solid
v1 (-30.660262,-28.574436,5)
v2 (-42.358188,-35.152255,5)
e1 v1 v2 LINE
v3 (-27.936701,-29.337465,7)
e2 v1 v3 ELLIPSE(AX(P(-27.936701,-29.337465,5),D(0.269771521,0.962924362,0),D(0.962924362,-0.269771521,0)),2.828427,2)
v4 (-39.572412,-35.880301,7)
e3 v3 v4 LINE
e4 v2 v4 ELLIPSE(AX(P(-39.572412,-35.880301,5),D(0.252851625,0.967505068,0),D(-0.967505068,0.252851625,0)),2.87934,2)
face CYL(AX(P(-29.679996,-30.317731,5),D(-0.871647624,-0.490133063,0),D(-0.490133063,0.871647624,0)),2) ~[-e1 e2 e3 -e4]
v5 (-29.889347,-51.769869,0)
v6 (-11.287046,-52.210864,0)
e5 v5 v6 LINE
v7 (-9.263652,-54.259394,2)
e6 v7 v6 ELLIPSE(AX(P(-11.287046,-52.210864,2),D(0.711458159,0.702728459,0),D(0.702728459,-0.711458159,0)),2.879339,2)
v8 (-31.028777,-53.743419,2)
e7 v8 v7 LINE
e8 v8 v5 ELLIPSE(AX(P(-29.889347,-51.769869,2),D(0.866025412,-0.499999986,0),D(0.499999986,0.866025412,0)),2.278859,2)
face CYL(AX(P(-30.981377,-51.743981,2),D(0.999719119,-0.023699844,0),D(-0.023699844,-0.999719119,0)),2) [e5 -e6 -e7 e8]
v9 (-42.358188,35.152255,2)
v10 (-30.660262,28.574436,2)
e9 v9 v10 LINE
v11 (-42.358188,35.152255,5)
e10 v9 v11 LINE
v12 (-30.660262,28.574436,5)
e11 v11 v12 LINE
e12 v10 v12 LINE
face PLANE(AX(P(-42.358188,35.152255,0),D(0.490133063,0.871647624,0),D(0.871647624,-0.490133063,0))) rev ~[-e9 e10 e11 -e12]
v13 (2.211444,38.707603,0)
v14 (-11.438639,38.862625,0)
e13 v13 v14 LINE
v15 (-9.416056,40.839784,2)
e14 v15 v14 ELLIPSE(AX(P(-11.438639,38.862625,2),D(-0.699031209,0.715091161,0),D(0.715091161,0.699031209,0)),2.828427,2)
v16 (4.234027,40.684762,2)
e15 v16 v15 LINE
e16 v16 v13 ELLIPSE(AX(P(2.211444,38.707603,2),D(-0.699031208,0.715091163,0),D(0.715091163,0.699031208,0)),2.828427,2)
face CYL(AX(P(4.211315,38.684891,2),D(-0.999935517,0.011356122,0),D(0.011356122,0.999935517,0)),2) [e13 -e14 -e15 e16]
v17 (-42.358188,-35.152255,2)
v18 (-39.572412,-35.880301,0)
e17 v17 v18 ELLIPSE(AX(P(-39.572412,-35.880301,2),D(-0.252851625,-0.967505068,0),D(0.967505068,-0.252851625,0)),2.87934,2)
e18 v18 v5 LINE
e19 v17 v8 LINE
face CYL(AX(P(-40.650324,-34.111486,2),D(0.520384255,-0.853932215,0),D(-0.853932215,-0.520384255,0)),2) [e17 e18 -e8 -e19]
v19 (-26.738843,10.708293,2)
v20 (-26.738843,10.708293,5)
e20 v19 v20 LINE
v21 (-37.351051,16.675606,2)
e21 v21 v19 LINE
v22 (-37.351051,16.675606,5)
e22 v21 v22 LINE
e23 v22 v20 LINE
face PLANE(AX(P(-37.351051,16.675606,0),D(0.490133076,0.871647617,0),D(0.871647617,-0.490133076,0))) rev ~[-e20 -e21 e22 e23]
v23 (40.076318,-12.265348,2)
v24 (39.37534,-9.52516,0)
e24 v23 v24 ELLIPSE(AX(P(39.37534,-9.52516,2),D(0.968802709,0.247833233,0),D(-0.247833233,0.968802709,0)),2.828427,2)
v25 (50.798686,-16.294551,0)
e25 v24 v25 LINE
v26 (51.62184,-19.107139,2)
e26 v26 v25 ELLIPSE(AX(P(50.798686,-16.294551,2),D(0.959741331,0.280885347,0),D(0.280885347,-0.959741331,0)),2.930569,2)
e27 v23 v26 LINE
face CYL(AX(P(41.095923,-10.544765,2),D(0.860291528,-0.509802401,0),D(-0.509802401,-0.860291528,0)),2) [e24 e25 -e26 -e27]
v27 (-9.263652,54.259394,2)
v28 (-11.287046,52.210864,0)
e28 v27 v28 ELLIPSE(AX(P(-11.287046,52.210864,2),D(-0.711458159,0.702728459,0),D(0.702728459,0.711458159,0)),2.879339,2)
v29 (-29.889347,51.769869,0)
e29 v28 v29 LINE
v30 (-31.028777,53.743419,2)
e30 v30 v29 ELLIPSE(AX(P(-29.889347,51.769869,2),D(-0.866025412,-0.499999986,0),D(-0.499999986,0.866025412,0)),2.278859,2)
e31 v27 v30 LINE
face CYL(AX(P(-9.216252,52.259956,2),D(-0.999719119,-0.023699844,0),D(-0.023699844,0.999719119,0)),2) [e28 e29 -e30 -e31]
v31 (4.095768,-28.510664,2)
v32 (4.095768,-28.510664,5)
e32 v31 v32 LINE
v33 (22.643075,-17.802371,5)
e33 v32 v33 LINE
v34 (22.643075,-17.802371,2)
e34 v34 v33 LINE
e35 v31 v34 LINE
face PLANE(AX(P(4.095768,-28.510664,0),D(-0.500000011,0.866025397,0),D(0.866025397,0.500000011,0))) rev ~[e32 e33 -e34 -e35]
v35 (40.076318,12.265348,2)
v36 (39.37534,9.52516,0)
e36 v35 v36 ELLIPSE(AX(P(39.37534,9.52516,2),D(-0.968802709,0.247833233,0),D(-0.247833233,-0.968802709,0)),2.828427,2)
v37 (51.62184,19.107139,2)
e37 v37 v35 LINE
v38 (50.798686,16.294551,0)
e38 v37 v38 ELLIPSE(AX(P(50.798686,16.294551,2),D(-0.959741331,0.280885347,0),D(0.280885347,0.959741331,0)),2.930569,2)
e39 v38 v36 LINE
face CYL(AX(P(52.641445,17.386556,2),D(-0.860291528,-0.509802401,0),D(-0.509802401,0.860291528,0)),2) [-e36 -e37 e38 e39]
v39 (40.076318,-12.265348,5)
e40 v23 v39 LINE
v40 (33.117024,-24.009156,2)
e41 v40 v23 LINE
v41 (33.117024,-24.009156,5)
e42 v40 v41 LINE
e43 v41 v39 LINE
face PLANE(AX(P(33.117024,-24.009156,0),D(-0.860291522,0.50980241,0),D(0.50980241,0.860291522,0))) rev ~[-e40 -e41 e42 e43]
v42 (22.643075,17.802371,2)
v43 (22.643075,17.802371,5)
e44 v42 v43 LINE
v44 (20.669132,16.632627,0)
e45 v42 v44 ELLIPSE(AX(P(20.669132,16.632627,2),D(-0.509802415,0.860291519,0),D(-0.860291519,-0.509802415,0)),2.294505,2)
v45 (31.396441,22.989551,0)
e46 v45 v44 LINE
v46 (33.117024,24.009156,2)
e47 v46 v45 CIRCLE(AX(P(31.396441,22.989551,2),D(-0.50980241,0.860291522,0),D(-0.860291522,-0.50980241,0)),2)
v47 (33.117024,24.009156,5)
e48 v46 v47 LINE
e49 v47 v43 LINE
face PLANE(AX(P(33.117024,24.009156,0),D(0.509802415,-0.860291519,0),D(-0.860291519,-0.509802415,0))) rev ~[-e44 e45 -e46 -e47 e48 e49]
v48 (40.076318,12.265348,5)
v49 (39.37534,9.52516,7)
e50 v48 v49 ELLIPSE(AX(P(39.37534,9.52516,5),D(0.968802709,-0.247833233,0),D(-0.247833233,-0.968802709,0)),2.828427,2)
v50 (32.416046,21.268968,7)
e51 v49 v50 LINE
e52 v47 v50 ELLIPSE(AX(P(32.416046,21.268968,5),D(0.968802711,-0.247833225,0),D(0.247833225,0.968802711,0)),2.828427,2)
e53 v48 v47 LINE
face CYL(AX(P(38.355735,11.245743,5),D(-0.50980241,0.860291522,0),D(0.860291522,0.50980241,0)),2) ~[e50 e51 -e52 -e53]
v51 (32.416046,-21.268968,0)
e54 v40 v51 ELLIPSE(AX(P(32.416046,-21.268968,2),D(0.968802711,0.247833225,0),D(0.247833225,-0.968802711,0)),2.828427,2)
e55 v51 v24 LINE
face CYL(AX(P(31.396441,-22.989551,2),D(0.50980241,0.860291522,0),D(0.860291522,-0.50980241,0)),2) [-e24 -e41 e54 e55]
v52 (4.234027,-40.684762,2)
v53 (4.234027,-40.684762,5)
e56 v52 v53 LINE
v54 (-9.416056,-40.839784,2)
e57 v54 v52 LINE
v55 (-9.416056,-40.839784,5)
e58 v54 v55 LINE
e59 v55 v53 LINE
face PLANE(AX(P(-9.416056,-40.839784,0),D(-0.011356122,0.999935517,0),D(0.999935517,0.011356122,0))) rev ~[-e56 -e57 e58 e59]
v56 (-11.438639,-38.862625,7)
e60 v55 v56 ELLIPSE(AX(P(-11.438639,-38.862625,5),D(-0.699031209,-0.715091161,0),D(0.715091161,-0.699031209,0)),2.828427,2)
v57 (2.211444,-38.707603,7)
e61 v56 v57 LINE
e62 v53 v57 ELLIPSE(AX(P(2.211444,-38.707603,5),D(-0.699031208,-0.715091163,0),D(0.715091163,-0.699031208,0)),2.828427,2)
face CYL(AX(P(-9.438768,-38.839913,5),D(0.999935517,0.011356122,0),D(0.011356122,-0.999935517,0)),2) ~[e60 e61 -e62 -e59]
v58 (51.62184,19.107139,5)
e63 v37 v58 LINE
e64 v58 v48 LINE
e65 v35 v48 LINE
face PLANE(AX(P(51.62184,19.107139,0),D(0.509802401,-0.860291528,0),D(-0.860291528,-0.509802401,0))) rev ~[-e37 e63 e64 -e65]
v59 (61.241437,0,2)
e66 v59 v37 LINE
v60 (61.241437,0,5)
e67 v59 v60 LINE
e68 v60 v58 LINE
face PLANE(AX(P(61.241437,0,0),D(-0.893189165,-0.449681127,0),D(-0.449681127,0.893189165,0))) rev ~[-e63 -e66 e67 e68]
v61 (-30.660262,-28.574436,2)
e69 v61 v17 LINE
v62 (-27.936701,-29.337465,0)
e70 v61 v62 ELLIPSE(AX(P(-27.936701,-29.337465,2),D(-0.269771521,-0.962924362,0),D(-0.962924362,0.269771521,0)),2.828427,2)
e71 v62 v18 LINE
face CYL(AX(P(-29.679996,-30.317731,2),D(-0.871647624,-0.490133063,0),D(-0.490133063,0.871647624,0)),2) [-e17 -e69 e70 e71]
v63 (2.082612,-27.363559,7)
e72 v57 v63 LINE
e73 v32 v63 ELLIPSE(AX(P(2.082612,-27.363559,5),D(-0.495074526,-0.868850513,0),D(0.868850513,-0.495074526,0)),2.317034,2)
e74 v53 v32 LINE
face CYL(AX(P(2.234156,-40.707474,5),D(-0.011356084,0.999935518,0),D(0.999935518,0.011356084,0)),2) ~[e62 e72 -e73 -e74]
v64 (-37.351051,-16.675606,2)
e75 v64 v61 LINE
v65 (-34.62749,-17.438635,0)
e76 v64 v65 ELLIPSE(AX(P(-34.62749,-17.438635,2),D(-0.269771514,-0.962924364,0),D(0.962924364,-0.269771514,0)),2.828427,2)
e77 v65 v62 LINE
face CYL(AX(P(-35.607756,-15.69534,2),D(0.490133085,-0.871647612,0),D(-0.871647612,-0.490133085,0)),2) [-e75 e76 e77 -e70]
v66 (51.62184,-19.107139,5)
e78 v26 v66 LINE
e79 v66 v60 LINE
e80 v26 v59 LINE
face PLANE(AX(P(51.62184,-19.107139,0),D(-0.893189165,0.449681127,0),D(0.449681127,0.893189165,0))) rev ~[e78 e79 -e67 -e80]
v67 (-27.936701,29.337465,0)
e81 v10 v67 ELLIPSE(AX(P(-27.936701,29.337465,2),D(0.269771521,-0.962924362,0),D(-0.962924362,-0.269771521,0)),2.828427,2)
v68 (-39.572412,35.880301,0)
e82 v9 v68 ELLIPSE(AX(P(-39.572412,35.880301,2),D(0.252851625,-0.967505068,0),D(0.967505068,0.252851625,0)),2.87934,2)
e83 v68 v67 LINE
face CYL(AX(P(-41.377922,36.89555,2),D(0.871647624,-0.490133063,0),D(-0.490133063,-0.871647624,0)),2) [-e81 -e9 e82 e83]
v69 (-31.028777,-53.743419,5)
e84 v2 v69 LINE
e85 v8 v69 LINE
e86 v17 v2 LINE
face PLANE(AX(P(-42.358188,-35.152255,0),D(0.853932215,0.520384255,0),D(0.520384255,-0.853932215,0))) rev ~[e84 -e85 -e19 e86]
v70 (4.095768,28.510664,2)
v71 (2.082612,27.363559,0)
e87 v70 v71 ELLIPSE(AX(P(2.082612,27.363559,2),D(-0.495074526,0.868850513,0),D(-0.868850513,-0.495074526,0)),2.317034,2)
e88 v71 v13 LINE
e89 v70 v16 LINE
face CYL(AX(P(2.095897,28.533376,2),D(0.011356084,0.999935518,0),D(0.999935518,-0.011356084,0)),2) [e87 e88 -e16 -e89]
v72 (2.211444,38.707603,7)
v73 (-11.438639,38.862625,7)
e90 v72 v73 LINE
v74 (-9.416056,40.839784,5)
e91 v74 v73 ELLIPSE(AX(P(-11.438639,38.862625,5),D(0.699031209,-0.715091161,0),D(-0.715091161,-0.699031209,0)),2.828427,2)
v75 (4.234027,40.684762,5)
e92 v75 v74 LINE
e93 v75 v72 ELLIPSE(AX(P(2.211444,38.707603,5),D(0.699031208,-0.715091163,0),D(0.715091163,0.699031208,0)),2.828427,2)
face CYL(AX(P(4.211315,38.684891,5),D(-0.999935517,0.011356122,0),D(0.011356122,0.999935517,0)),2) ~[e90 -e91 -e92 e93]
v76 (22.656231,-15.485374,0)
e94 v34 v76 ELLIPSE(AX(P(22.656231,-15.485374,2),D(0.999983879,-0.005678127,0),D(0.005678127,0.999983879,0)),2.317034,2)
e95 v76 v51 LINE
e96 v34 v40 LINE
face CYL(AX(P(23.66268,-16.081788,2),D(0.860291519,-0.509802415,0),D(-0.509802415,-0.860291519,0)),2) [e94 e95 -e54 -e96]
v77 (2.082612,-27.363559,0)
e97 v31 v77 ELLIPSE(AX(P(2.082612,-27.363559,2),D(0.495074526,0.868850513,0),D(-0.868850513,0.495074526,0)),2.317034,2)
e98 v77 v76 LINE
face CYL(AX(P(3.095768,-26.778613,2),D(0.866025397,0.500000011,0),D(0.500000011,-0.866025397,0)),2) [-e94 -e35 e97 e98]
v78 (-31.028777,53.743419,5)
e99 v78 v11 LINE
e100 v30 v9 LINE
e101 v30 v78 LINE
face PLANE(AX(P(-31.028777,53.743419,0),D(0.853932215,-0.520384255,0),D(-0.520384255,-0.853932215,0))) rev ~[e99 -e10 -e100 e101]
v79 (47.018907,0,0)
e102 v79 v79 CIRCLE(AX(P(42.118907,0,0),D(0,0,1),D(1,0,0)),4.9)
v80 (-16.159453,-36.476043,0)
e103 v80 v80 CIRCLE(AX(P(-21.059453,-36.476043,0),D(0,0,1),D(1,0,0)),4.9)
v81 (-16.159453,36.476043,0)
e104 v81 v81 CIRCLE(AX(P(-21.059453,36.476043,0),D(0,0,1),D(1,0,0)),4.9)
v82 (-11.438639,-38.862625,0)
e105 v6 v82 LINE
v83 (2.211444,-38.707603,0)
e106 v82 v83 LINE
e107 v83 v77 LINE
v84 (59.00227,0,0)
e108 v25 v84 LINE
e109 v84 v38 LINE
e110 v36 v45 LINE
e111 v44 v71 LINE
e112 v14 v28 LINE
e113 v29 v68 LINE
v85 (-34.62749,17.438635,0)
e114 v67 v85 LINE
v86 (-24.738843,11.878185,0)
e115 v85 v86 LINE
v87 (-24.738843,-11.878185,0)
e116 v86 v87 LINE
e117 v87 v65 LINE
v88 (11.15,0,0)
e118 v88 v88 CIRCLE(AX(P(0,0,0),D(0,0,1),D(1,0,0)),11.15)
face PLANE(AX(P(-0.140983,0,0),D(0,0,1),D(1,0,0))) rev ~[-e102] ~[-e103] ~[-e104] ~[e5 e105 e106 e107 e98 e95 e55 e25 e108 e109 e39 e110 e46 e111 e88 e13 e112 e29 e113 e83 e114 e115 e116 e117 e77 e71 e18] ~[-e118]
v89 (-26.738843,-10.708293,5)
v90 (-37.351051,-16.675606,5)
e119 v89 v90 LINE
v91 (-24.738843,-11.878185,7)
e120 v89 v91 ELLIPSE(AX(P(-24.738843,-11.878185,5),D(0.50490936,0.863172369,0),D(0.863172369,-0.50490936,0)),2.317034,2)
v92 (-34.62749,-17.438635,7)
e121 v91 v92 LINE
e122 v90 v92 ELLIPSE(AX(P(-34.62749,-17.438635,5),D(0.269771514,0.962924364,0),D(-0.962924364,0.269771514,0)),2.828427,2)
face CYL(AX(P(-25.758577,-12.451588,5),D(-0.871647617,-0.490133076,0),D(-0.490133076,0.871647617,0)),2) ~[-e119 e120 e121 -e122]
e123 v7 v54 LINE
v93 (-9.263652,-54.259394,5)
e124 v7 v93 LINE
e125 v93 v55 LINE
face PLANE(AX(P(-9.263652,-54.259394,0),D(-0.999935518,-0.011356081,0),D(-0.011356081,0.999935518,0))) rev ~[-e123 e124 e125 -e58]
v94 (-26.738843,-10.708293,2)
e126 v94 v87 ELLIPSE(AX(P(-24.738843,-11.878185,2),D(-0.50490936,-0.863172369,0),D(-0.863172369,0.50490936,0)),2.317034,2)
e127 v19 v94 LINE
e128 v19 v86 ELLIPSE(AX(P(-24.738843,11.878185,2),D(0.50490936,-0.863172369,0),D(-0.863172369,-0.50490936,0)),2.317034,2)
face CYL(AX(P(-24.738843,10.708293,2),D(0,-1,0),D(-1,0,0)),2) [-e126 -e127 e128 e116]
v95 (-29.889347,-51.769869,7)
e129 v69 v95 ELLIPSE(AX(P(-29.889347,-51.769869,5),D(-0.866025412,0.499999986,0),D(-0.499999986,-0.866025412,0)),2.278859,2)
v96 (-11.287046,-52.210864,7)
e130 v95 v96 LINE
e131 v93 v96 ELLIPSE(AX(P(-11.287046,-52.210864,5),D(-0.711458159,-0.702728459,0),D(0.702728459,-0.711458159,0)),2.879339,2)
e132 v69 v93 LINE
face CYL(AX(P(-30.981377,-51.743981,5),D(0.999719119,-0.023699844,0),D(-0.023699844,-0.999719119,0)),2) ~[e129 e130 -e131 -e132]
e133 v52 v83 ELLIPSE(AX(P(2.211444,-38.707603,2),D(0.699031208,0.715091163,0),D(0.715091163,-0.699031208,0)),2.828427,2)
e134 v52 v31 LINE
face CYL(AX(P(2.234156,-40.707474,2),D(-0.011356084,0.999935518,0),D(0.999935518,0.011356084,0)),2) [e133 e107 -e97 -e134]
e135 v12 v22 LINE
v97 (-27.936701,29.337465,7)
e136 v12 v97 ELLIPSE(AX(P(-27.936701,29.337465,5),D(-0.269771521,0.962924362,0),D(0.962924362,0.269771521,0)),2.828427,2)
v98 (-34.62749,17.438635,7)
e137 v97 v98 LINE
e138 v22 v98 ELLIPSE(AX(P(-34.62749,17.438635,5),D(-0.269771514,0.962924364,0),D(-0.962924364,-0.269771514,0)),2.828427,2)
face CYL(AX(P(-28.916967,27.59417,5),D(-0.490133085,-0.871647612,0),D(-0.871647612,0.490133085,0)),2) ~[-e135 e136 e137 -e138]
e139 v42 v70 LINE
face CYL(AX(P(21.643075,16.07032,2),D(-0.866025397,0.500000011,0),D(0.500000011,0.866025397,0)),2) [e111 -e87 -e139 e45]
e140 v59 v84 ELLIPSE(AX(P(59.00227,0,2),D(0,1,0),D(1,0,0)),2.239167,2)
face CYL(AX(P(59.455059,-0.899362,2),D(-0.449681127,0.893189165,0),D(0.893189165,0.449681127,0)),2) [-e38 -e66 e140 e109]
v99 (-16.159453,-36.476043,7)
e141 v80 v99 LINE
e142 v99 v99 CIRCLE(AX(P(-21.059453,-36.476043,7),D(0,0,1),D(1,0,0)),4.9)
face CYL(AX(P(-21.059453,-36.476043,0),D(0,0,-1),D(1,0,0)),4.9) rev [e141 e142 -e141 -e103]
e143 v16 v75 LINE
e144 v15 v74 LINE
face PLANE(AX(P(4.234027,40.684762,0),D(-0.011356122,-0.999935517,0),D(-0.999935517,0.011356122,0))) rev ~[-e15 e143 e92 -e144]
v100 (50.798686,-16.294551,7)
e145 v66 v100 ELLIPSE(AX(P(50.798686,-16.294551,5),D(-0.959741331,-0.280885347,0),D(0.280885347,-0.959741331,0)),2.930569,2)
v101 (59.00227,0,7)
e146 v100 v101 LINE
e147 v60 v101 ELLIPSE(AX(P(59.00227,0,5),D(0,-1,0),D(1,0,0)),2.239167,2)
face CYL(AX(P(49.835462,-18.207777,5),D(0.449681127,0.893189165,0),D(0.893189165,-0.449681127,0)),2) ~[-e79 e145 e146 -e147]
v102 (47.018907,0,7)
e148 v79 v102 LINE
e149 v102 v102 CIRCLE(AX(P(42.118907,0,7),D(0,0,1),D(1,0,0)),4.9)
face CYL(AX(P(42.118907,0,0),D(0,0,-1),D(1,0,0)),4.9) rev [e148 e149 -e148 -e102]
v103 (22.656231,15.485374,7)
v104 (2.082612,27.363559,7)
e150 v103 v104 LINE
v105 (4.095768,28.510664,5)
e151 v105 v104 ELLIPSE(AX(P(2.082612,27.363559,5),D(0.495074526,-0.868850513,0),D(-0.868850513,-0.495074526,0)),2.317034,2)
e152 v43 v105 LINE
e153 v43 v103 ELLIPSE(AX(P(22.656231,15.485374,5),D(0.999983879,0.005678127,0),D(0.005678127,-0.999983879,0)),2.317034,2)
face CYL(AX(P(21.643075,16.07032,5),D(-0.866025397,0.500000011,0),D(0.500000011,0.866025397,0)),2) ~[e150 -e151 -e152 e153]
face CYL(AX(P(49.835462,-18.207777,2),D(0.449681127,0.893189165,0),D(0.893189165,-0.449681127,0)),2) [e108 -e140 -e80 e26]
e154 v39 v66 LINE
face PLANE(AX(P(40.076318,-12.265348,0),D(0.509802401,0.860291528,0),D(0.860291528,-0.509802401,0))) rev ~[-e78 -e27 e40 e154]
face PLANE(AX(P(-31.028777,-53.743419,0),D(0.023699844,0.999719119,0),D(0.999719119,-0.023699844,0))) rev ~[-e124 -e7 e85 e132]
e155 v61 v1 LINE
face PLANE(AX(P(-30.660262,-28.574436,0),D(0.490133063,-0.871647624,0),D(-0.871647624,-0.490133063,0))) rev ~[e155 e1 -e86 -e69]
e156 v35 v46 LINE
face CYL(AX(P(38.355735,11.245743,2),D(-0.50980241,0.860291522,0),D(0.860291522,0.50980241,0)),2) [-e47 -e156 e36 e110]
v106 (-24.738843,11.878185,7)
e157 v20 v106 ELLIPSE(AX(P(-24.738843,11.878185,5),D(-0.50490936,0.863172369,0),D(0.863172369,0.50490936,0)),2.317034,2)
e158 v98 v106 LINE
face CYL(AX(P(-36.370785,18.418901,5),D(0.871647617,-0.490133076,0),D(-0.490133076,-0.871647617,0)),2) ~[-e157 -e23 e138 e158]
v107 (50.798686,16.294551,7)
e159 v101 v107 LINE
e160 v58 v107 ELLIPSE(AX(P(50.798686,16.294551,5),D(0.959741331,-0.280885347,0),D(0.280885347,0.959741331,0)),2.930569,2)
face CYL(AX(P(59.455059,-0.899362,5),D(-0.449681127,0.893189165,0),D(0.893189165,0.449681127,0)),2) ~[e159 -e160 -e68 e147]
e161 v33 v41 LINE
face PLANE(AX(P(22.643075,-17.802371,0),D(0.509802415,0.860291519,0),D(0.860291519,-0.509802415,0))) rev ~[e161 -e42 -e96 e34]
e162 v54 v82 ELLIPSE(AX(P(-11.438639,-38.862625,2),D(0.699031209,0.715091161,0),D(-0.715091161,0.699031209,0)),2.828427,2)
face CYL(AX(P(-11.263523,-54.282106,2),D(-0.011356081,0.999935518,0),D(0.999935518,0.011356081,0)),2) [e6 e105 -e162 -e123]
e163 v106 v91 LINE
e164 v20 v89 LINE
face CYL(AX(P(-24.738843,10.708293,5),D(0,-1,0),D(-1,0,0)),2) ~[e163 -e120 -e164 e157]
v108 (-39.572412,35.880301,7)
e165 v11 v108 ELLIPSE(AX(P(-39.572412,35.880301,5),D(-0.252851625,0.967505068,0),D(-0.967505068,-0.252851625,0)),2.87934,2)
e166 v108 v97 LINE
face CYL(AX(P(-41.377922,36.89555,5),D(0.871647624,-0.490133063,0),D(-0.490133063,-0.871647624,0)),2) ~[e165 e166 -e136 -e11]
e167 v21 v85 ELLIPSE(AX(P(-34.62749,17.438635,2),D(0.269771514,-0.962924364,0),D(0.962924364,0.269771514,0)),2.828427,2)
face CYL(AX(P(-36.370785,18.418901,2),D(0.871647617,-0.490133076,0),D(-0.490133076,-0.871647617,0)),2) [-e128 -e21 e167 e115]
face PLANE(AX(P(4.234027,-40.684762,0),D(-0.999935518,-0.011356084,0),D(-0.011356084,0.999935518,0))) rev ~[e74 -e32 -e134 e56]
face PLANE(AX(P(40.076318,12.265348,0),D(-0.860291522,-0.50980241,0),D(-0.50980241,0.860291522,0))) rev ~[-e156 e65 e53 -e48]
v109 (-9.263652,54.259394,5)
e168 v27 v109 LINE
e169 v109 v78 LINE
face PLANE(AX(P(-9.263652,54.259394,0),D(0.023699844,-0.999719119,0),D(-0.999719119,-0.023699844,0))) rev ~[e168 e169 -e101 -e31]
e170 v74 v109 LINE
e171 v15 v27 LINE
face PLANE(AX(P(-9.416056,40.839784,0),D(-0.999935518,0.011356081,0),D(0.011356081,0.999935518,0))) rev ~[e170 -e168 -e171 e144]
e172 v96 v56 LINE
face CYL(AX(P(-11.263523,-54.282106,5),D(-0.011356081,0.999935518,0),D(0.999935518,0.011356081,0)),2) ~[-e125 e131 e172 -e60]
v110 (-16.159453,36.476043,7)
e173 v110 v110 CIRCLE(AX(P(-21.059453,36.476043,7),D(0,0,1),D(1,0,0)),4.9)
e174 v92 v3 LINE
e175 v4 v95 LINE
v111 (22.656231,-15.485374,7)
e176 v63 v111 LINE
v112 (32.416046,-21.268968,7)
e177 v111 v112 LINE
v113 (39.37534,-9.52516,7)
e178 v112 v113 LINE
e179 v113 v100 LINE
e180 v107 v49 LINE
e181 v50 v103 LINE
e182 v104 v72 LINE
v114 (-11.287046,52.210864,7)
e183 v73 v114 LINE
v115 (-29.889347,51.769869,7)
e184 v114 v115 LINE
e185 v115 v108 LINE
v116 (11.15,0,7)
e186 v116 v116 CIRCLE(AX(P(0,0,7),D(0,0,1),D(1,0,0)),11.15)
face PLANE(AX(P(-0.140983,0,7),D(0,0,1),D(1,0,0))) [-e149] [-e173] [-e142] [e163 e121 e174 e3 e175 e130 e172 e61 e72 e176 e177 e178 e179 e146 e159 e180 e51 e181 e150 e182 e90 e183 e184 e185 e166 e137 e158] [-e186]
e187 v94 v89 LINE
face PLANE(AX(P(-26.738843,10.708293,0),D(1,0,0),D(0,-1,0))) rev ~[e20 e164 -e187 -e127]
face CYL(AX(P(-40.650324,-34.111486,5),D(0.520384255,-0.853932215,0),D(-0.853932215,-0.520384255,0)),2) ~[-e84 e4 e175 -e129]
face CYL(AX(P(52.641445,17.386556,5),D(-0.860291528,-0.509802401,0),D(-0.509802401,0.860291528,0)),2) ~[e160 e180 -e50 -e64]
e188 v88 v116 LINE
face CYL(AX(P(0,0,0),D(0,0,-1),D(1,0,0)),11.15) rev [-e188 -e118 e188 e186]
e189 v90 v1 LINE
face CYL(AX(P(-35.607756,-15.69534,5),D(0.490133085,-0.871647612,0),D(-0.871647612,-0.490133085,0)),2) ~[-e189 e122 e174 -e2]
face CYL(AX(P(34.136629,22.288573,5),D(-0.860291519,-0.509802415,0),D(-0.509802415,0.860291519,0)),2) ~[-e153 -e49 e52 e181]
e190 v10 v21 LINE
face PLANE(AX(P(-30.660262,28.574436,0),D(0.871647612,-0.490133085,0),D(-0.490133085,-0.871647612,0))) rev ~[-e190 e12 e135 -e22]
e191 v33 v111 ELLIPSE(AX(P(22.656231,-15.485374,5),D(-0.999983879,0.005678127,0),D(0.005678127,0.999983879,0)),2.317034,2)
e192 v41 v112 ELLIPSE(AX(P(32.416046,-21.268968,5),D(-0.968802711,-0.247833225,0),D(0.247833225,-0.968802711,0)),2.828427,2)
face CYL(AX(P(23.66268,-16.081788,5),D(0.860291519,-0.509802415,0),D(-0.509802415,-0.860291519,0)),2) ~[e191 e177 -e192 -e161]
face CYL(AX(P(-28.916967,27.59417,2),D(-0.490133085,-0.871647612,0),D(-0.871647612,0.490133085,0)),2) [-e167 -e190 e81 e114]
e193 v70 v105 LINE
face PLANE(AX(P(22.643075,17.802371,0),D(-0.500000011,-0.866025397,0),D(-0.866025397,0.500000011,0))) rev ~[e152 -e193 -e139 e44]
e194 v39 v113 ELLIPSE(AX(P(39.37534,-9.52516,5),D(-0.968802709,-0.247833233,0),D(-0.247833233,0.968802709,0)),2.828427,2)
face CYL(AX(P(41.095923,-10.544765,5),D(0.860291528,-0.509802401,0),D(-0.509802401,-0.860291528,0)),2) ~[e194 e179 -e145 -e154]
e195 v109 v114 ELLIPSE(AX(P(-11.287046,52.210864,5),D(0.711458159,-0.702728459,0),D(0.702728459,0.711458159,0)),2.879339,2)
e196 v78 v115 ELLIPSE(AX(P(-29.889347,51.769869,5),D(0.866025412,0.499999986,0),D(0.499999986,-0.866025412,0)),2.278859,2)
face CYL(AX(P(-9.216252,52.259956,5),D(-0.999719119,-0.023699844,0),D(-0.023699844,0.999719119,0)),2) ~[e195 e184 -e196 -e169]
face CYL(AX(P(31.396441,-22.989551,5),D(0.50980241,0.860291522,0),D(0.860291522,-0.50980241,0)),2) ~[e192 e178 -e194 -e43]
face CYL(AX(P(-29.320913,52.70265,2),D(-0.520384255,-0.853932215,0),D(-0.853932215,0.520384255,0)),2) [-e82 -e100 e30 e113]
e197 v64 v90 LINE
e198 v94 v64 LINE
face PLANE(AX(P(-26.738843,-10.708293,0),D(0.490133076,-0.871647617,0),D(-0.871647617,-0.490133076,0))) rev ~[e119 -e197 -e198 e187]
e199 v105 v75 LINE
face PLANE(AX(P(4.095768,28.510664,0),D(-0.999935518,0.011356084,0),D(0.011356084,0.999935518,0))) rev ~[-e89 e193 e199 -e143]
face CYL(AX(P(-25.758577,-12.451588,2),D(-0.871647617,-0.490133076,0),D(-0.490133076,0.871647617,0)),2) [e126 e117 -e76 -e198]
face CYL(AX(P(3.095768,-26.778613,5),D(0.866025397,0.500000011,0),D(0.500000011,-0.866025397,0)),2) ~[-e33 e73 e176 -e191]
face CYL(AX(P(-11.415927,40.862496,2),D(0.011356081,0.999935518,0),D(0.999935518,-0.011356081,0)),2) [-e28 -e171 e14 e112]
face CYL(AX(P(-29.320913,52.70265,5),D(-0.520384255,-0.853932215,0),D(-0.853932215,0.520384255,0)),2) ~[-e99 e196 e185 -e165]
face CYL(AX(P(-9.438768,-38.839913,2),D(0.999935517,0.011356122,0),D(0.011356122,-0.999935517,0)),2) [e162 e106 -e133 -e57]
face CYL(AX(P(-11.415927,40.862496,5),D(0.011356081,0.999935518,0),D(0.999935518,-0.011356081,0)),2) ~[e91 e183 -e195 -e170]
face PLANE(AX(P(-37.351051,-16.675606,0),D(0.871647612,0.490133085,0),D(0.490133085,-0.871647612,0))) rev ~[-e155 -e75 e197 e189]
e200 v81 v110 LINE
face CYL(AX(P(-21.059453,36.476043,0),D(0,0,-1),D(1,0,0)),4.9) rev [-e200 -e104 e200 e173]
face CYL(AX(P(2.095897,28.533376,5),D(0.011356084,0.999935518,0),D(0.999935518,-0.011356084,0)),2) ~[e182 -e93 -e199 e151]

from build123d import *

# Parameters (mm, degrees)
F0_R     = 4.9
F0_R_2   = 17.5
F0_R_3   = 11.15
F1_DEPTH = 7
F2_R     = 2


with BuildPart() as f1:
    # F0 (on Top) → F1 (new body)
    with BuildSketch(Plane.XY):
        Polygon((22.643075, 17.802371), (4.095768, 28.510664), (4.234027, 40.684762), (-9.416056, 40.839784), (-9.263652, 54.259394), (-31.028777, 53.743419), (-42.358188, 35.152255), (-30.660262, 28.574436), (-37.351051, 16.675606), (-26.738843, 10.708293), (-26.738843, -10.708293), (-37.351051, -16.675606), (-30.660262, -28.574436), (-42.358188, -35.152255), (-31.028777, -53.743419), (-9.263652, -54.259394), (-9.416056, -40.839784), (4.234027, -40.684762), (4.095768, -28.510664), (22.643075, -17.802371), (33.117024, -24.009156), (40.076318, -12.265348), (51.62184, -19.107139), (61.241437, 0), (51.62184, 19.107139), (40.076318, 12.265348), (33.117024, 24.009156), align=None)
        with Locations((-21.059453, -36.476043)):
            Circle(F0_R, mode=Mode.SUBTRACT)
        Circle(F0_R_2, mode=Mode.SUBTRACT)
        with Locations((42.118907, 0)):
            Circle(F0_R, mode=Mode.SUBTRACT)
        with Locations((-21.059453, 36.476043)):
            Circle(F0_R, mode=Mode.SUBTRACT)
        Circle(F0_R_2)
        Circle(F0_R_3, mode=Mode.SUBTRACT)
    extrude(amount=F1_DEPTH)

    # F2
    f2_edges = [f1.edges().sort_by_distance(p)[0] for p in [
        (13.369421, -23.156517, 7),
        (27.88005, -20.905763, 7),
        (36.596671, -18.137252, 7),
        (45.849079, -15.686243, 7),
        (56.431638, -9.553569, 7),
        (56.431638, 9.553569, 7),
        (45.849079, 15.686243, 7),
        (36.596671, 18.137252, 7),
        (27.88005, 20.905763, 7),
        (13.369421, 23.156517, 7),
        (4.164897, 34.597713, 7),
        (-2.591015, 40.762273, 7),
        (-9.339854, 47.549589, 7),
        (-36.693482, 44.447837, 7),
        (-20.146215, 54.001407, 7),
        (-36.509225, 31.863346, 7),
        (-34.005657, 22.625021, 7),
        (-32.044947, 13.69195, 7),
        (-26.738843, 0, 7),
        (-32.044947, -13.69195, 7),
        (-34.005657, -22.625021, 7),
        (-36.509225, -31.863346, 7),
        (-36.693482, -44.447837, 7),
        (-20.146215, -54.001407, 7),
        (-2.591015, -40.762273, 7),
        (4.164897, -34.597713, 7),
        (-9.339854, -47.549589, 7),
        (-20.146215, -54.001407, 0),
        (-36.693482, -44.447837, 0),
        (-9.339854, -47.549589, 0),
        (-2.591015, -40.762273, 0),
        (4.164897, -34.597713, 0),
        (13.369421, -23.156517, 0),
        (27.88005, -20.905763, 0),
        (36.596671, -18.137252, 0),
        (45.849079, -15.686243, 0),
        (56.431638, -9.553569, 0),
        (56.431638, 9.553569, 0),
        (45.849079, 15.686243, 0),
        (36.596671, 18.137252, 0),
        (13.369421, 23.156517, 0),
        (4.164897, 34.597713, 0),
        (-9.339854, 47.549589, 0),
        (-2.591015, 40.762273, 0),
        (-20.146215, 54.001407, 0),
        (-36.509225, -31.863346, 0),
        (-34.005657, -22.625021, 0),
        (-32.044947, -13.69195, 0),
        (-26.738843, 0, 0),
        (-32.044947, 13.69195, 0),
        (-34.005657, 22.625021, 0),
        (-36.509225, 31.863346, 0),
        (-36.693482, 44.447837, 0),
    ]]
    fillet(f2_edges, radius=F2_R)


solid = f1.part
